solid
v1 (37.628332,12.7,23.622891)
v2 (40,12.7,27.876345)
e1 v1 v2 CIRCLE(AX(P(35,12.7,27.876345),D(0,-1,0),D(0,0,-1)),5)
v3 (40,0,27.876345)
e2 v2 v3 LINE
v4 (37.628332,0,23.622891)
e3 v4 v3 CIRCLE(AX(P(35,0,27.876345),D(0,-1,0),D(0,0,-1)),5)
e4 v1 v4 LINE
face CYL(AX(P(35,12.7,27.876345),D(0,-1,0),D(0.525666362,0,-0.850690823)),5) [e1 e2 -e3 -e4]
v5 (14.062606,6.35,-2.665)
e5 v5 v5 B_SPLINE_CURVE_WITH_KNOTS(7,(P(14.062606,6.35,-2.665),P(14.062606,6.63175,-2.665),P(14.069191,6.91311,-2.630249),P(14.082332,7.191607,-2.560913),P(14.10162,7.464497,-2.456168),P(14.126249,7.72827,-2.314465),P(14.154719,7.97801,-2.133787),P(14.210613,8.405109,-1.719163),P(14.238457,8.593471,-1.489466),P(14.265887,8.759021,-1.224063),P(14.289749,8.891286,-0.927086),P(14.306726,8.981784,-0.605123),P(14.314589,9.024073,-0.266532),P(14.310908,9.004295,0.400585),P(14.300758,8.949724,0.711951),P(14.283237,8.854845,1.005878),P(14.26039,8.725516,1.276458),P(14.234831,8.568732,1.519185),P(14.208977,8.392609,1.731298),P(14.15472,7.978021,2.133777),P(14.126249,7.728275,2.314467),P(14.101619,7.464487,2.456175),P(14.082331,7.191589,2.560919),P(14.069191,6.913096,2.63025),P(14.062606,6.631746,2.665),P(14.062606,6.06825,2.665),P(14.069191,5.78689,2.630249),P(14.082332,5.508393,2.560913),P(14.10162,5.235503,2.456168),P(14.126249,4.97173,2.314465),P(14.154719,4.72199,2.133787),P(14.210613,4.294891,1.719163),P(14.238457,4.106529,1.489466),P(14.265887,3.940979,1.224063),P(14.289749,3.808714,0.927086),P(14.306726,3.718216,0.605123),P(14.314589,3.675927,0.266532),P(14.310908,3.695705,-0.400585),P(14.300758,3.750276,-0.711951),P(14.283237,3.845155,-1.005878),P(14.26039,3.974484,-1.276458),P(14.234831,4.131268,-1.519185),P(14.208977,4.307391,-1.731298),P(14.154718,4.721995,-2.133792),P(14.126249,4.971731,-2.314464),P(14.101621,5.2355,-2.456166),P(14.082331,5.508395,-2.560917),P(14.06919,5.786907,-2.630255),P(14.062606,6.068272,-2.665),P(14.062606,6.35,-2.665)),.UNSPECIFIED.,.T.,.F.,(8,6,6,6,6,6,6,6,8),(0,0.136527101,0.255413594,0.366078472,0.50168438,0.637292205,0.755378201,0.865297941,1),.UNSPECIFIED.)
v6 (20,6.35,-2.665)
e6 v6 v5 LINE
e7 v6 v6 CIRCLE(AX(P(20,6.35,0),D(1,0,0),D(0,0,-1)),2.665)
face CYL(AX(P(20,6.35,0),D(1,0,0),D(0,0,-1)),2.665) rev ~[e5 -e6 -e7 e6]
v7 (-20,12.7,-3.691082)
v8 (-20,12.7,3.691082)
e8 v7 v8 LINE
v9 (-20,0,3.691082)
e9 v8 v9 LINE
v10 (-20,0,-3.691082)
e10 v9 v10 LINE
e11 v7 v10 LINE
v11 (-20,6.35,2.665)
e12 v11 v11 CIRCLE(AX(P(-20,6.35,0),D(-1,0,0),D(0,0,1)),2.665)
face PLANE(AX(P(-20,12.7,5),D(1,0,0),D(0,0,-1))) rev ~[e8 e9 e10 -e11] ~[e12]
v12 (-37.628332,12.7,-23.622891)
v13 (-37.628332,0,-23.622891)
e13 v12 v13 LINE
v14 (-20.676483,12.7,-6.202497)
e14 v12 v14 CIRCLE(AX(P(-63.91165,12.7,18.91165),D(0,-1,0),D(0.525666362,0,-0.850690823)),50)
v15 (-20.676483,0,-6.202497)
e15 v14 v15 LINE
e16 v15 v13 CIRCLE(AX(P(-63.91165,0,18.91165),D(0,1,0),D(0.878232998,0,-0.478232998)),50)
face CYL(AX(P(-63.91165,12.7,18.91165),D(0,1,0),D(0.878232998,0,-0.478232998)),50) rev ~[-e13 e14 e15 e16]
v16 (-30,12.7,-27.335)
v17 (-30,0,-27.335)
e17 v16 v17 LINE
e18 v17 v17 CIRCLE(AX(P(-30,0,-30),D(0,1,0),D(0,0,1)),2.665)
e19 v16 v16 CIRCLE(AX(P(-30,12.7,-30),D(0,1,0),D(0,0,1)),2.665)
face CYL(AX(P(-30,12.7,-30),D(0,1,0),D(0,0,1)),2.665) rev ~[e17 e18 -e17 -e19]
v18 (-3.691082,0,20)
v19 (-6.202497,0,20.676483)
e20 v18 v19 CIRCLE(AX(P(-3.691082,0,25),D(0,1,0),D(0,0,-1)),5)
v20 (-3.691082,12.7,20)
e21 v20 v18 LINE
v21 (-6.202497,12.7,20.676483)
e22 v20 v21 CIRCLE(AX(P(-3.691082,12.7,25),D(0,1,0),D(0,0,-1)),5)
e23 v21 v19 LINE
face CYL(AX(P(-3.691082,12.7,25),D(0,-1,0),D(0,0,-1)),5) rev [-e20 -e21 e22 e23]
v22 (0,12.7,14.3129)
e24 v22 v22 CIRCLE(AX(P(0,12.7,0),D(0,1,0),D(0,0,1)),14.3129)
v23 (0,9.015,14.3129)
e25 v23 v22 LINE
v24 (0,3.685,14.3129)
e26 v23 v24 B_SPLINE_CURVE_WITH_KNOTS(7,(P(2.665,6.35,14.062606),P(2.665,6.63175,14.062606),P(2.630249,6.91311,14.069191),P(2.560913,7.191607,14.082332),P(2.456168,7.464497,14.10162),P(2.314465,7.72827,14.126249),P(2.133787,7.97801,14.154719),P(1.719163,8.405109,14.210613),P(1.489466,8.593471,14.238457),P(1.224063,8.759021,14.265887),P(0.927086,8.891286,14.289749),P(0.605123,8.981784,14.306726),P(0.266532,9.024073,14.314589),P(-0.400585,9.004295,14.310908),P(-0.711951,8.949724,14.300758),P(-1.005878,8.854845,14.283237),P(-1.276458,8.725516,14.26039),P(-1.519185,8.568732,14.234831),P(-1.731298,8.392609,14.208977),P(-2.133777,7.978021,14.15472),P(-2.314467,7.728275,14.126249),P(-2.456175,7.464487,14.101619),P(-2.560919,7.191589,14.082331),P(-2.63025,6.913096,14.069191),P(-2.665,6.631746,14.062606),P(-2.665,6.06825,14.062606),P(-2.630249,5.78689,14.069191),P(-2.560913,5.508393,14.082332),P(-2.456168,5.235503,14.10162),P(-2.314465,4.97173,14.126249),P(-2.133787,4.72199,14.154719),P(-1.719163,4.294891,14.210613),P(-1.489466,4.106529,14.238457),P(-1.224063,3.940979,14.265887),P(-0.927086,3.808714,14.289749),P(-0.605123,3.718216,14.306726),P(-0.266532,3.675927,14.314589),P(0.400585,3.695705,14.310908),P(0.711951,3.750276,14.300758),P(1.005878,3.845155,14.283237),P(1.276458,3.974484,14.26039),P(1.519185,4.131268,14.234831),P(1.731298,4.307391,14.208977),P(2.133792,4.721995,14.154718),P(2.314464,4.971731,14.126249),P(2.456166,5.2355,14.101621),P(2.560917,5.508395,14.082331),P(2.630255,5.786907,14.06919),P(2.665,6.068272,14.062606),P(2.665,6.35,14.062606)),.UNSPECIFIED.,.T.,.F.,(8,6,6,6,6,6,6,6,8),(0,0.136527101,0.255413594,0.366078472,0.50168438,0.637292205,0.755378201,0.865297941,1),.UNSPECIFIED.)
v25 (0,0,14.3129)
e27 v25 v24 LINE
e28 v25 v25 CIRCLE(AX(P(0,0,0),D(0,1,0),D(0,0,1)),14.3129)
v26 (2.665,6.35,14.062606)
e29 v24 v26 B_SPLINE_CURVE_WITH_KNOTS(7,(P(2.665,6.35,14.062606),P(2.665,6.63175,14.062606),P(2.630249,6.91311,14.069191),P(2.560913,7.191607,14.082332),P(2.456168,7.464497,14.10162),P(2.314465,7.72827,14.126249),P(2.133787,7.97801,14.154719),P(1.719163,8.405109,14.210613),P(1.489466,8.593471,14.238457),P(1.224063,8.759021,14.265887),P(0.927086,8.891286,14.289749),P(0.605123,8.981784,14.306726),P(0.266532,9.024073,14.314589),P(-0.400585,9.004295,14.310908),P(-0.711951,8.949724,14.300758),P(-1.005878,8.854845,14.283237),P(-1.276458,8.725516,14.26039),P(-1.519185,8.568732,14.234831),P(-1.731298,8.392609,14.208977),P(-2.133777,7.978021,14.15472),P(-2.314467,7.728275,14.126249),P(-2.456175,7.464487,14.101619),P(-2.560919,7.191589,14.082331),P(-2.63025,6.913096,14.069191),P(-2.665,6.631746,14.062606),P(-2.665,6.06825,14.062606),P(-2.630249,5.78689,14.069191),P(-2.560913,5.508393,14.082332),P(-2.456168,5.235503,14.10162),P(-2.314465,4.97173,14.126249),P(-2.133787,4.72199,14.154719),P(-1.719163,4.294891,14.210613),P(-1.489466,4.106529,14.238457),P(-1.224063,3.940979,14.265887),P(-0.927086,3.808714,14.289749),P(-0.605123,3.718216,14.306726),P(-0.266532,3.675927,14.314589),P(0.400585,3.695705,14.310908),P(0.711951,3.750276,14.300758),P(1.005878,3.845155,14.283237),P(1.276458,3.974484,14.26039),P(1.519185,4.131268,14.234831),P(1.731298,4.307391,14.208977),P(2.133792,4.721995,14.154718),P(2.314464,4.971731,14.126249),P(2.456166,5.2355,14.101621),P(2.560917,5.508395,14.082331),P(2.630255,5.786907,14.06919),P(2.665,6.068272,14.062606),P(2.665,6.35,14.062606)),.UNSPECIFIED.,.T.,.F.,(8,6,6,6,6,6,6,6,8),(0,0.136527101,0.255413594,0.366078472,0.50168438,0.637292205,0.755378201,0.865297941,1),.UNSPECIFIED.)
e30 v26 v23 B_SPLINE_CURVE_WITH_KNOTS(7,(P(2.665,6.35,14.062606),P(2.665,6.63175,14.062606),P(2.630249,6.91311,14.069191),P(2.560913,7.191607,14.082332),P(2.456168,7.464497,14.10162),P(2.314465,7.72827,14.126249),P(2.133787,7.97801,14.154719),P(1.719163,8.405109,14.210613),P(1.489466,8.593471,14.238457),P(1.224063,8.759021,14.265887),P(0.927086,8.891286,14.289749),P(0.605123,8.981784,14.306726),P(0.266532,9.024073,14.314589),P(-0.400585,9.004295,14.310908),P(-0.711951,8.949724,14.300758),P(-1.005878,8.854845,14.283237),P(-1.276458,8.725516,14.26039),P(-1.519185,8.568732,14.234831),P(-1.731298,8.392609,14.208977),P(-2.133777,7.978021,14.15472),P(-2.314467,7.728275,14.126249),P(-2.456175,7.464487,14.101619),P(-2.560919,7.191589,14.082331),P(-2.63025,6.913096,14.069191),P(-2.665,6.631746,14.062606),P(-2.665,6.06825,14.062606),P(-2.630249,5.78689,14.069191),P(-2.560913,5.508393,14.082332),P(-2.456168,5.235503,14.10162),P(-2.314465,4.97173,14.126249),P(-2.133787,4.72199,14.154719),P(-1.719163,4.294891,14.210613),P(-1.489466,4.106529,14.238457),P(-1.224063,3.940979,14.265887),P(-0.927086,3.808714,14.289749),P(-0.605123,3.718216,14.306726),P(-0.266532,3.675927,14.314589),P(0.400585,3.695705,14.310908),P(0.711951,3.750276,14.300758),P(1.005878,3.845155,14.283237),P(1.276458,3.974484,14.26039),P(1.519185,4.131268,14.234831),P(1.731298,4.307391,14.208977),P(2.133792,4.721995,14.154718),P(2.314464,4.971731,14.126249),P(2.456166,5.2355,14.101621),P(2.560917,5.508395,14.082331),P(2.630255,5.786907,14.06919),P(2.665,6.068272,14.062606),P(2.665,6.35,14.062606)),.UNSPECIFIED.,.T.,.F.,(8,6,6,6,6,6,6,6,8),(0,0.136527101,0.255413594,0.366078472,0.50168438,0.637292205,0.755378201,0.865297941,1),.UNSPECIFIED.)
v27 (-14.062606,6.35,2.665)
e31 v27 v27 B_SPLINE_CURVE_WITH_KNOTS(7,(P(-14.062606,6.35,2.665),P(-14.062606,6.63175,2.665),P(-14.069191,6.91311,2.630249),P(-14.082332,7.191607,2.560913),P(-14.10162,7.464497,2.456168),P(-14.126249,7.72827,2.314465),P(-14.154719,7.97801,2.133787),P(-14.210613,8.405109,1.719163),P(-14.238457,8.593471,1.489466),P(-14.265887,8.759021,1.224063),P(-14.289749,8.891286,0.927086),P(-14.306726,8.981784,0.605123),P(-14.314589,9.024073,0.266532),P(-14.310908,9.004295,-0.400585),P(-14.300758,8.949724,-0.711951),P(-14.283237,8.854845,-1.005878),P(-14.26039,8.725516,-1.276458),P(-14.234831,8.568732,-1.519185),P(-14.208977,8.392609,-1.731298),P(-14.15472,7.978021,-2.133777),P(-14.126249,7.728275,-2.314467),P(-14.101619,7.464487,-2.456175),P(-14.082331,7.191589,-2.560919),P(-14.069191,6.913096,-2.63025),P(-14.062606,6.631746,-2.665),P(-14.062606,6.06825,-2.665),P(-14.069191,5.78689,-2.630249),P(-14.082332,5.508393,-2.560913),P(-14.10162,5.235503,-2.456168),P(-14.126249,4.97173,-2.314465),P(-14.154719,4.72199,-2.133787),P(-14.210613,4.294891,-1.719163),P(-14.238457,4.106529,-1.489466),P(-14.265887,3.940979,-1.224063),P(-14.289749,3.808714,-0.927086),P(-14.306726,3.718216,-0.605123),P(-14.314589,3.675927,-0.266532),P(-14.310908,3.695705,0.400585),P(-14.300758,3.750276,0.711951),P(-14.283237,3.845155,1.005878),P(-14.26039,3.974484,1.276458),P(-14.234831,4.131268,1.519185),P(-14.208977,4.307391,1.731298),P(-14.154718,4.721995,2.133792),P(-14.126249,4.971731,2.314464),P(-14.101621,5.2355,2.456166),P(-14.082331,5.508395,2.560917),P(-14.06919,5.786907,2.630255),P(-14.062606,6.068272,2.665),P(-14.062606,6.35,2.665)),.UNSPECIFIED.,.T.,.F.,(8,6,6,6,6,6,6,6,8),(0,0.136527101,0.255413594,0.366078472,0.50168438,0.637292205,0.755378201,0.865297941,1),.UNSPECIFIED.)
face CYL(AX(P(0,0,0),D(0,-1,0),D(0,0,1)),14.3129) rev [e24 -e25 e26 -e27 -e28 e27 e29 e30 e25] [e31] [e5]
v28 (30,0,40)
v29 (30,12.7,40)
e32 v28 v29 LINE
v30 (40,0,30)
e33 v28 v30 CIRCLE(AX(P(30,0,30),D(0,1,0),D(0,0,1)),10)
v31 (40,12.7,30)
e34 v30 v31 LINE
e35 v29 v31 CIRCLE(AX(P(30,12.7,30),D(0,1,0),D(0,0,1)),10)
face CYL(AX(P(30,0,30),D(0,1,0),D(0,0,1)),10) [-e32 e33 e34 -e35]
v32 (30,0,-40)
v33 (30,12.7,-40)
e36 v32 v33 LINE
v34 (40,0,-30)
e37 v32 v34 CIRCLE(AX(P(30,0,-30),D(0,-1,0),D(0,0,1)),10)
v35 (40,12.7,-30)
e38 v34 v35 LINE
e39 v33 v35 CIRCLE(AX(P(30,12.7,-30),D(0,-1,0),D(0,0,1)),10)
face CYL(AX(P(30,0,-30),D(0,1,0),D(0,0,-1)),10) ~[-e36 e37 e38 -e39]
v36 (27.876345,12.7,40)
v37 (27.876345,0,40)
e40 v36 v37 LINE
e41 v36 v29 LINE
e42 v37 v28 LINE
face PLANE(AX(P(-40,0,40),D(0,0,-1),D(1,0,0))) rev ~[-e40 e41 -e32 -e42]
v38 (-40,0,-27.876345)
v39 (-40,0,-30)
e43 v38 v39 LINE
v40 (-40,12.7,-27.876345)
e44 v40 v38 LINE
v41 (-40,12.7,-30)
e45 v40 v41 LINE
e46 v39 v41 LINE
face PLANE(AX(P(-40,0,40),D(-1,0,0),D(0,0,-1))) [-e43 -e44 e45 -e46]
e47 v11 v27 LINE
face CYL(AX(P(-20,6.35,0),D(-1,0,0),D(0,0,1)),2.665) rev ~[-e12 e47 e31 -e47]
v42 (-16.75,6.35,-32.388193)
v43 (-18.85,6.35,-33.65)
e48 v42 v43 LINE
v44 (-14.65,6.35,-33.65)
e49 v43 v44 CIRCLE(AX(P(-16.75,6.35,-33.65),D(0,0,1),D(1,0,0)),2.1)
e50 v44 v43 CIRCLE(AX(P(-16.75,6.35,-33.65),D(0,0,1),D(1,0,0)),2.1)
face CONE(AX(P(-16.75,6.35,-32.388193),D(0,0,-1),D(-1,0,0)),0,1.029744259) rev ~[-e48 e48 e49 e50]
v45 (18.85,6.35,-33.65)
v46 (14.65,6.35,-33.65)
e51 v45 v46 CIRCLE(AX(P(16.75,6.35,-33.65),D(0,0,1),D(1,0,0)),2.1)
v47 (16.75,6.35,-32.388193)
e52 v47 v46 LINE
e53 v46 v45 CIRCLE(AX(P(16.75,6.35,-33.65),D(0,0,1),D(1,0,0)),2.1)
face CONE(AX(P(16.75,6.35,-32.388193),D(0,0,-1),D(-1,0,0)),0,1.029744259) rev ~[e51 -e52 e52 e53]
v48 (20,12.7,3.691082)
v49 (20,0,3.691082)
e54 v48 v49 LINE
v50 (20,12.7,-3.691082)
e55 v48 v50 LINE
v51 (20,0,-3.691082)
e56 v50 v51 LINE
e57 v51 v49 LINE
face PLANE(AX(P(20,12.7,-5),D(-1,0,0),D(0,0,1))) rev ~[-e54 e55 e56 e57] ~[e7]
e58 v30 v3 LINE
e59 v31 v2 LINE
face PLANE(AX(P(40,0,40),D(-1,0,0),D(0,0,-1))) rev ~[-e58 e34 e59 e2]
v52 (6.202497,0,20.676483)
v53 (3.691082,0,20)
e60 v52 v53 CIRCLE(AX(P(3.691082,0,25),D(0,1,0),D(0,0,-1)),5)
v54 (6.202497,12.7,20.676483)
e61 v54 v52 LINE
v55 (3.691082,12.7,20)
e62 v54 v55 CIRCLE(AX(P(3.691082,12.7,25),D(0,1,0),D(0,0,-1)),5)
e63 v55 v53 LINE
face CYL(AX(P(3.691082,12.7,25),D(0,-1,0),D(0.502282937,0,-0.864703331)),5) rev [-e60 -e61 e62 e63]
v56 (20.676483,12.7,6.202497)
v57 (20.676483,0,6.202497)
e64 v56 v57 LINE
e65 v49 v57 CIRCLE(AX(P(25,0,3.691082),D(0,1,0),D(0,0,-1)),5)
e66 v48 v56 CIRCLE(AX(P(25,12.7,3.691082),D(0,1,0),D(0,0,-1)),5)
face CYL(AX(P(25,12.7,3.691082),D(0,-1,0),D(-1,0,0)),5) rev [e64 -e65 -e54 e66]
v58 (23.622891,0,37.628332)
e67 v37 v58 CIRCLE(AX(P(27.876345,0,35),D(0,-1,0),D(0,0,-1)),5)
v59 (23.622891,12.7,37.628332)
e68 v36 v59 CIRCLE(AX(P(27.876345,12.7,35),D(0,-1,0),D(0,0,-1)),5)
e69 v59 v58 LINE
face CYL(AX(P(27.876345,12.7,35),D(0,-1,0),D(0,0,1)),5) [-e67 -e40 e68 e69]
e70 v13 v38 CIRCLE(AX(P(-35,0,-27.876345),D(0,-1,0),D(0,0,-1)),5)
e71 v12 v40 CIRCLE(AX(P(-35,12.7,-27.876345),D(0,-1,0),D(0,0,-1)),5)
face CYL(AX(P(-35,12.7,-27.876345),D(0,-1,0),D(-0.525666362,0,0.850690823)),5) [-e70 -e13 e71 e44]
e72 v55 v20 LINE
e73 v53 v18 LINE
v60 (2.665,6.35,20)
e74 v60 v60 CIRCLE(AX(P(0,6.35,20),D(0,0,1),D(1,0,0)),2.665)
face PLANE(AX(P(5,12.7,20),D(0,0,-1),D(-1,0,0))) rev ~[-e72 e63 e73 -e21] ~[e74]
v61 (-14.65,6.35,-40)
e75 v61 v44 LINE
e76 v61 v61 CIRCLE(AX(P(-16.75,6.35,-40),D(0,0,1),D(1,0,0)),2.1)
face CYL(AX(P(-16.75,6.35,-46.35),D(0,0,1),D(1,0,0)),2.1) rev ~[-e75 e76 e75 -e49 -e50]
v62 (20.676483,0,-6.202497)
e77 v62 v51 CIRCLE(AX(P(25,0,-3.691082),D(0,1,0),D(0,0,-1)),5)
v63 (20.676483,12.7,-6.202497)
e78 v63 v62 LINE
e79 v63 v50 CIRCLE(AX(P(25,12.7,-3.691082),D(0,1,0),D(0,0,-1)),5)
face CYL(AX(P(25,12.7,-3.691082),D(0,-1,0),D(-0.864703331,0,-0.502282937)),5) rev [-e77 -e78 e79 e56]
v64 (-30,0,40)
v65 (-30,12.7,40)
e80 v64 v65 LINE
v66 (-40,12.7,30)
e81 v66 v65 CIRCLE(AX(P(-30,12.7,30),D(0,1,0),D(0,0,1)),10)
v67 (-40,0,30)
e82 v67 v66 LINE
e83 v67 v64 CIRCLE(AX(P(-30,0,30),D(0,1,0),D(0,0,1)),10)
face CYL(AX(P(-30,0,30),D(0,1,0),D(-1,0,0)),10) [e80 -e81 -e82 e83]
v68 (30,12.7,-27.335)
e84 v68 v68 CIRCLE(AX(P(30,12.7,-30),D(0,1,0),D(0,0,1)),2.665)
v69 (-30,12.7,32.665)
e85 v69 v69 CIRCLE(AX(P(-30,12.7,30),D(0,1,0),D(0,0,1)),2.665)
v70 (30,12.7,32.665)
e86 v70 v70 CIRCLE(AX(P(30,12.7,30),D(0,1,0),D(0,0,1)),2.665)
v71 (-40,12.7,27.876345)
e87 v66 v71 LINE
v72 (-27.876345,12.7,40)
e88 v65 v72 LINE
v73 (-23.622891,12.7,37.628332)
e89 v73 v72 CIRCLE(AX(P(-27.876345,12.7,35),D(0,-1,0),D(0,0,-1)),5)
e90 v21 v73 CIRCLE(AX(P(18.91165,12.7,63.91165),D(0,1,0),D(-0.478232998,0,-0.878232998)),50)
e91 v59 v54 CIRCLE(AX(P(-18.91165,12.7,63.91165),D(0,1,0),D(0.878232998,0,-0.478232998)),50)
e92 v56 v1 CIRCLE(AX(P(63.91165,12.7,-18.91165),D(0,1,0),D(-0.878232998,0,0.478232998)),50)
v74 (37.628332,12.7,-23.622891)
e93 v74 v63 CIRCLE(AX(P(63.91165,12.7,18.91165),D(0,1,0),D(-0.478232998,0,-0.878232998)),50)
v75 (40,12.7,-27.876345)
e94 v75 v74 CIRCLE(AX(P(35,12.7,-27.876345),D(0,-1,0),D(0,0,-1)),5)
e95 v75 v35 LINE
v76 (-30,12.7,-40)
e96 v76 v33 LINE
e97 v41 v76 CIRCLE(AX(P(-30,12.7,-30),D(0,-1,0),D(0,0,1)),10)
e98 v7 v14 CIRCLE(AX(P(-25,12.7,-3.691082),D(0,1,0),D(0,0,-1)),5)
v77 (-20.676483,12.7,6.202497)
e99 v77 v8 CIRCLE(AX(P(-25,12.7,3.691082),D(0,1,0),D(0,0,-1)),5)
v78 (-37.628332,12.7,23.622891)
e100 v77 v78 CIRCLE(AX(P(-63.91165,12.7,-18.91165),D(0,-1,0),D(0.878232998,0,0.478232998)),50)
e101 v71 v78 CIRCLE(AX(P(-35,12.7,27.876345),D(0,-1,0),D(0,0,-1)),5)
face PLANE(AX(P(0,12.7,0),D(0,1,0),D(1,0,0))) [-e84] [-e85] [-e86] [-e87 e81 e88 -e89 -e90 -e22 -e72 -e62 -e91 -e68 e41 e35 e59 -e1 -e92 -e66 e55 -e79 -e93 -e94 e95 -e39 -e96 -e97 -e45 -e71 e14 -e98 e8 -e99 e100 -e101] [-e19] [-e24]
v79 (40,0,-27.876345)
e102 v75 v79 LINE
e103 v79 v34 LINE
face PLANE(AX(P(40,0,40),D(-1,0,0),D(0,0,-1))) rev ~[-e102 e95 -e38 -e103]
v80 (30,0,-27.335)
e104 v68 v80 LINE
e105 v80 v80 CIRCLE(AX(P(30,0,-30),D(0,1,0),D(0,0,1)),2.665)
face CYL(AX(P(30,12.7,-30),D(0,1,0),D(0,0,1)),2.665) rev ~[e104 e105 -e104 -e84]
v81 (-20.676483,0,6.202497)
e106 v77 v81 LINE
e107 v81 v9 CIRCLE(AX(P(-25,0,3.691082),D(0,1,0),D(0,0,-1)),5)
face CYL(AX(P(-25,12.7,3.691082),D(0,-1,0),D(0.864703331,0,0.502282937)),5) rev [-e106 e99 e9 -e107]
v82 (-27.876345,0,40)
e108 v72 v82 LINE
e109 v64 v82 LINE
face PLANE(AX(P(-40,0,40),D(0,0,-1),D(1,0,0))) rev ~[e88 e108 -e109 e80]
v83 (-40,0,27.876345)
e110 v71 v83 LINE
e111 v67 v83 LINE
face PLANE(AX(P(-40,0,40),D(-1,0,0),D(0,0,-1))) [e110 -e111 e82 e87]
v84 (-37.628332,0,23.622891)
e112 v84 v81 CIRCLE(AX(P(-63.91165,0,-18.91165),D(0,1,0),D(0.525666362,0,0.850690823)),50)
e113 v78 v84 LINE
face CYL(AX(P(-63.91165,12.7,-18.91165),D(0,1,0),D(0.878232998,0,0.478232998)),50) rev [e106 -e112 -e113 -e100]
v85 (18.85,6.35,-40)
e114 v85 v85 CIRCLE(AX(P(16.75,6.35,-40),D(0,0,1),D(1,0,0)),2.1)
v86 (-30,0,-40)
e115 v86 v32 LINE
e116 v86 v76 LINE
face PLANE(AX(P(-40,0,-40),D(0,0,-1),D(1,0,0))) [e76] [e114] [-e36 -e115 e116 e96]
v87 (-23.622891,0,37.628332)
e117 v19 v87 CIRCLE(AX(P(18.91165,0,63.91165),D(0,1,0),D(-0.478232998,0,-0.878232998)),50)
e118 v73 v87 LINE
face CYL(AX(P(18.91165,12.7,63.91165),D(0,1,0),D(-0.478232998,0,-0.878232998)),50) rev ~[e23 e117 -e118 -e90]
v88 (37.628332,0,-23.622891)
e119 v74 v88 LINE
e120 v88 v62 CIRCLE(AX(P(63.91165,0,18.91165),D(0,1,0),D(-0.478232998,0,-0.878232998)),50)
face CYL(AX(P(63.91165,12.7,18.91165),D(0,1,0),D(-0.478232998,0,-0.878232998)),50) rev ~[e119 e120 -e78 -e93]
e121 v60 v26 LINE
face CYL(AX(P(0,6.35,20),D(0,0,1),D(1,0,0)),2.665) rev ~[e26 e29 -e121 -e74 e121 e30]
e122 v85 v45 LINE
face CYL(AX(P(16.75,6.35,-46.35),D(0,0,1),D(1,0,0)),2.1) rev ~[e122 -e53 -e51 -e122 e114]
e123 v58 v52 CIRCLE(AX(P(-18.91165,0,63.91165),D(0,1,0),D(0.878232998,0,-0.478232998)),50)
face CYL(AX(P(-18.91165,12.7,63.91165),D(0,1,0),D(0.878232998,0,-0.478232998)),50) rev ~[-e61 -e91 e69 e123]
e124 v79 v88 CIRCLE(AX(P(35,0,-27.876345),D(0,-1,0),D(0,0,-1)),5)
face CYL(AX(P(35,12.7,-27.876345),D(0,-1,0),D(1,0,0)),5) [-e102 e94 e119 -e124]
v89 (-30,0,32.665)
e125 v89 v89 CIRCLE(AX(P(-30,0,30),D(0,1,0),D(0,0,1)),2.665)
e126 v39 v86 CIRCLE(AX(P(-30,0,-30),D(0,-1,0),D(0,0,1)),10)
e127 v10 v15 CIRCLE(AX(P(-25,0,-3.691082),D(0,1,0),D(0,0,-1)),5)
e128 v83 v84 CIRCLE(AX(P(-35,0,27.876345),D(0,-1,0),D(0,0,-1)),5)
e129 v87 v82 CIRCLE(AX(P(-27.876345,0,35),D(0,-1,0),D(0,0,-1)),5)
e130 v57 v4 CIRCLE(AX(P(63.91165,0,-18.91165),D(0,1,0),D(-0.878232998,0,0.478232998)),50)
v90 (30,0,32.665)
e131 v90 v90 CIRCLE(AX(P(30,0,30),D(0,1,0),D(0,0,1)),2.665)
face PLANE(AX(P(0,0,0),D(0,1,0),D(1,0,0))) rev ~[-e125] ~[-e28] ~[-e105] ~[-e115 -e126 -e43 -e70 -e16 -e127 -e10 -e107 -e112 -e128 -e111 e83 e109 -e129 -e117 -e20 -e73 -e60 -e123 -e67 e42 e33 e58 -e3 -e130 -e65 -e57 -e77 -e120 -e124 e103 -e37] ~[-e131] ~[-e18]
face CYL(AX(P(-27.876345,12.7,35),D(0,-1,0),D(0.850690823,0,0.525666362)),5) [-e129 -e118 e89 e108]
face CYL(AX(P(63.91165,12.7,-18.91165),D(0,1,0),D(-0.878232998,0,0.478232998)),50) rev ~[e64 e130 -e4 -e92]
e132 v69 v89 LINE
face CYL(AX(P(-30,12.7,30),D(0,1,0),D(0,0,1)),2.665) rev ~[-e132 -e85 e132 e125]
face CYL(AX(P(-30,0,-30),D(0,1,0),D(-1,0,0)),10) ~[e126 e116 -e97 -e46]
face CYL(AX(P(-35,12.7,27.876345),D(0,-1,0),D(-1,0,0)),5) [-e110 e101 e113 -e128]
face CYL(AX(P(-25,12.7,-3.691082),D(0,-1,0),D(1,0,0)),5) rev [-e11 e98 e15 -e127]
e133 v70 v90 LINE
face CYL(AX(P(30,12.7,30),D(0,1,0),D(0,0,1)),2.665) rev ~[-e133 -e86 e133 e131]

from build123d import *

# Parameters (mm, degrees)
SKETCH1_W                 = 80
SKETCH1_H                 = 80
SKETCH1_R                 = 14.3129
BOSS_EXTRUDE1_DEPTH       = 12.7
FILLET1_R                 = 10
CUT_EXTRUDE1_REACH        = 59.977
CUT_EXTRUDE2_REACH        = 75.221
CUT_EXTRUDE2_END_RADIUS   = 14.3129
SKETCH3_R                 = 2.665
FILLET2_R                 = 5
CUT_EXTRUDE3_REACH        = 59.977
SKETCH4_R                 = 2.665
CIRPATTERN1_COUNT         = 3
CIRPATTERN1_ANGLE         = 180
FILLET3_R                 = 5
CIRPATTERN2_COUNT         = 3
CIRPATTERN2_ANGLE         = 180
M5X0_8_TAPPED_HOLE1_D     = 4.2
M5X0_8_TAPPED_HOLE1_DEPTH = 6.35
M5X0_8_TAPPED_HOLE1_TIP   = 1.2618073


with BuildPart() as part:
    # Sketch1 → Boss-Extrude1 (new body)
    with BuildSketch(Plane(origin=(0, 0, 0), x_dir=(1, 0, 0), z_dir=(0, 1, 0))):
        Rectangle(SKETCH1_W, SKETCH1_H)
        with Locations(Location((0, 0, 0), (0, 0, 270))):
            Circle(SKETCH1_R, mode=Mode.SUBTRACT)
    extrude(amount=BOSS_EXTRUDE1_DEPTH)

    # Fillet1
    fillet1_edges = [part.edges().sort_by_distance(p)[0] for p in [
        (40, 6.35, 40),
        (-40, 6.35, 40),
        (-40, 6.35, -40),
        (40, 6.35, -40),
    ]]
    fillet(fillet1_edges, radius=FILLET1_R)

    # Sketch2 → Cut-Extrude1 (cut, up to next)
    with BuildSketch(Plane(origin=(0, 12.7, 0), x_dir=(1, 0, 0), z_dir=(0, 1, 0)), mode=Mode.PRIVATE) as cut_extrude1_sk1:
        with BuildLine():
            ThreePointArc((40, 25), (28.556310856, 16.443689144), (20, 5))
            Line((20, 5), (20, 0))
            Line((20, 0), (40, 0))
            Line((40, 0), (40, 25))
        make_face()
    cut_extrude1_tool1 = extrude(cut_extrude1_sk1.sketch, amount=-CUT_EXTRUDE1_REACH, mode=Mode.PRIVATE) & part.part
    # Sketch2 → Cut-Extrude1 (cut, up to next)
    with BuildSketch(Plane(origin=(0, 12.7, 0), x_dir=(1, 0, 0), z_dir=(0, 1, 0)), mode=Mode.PRIVATE) as cut_extrude1_sk2:
        with BuildLine():
            Line((40, 0), (20, 0))
            Line((20, 0), (20, -5))
            ThreePointArc((20, -5), (28.556310856, -16.443689144), (40, -25))
            Line((40, -25), (40, 0))
        make_face()
    cut_extrude1_tool2 = extrude(cut_extrude1_sk2.sketch, amount=-CUT_EXTRUDE1_REACH, mode=Mode.PRIVATE) & part.part
    cut_extrude1_1 = cut_extrude1_tool1.solids().sort_by_distance((31.902516, 12.7, -9.406449))[0]
    add(cut_extrude1_1, mode=Mode.SUBTRACT)
    cut_extrude1_2 = cut_extrude1_tool2.solids().sort_by_distance((31.902516, 12.7, 9.406449))[0]
    add(cut_extrude1_2, mode=Mode.SUBTRACT)
    cut_extrude1 = cut_extrude1_1 + cut_extrude1_2  # Cut-Extrude1 as one shape, for the pattern or mirror that repeats it

    # Mirror1: Cut-Extrude1 across plane
    add(cut_extrude1.mirror(Plane(origin=(0, 0, 0), x_dir=(0, 0, 1), z_dir=(1, 0, 0))), mode=Mode.SUBTRACT)

    # Cut-Extrude2: up to this cylinder (the profile starts outside it)
    cut_extrude2_end = Plane(origin=(0, 6.35, 0), z_dir=(0, -1, 0)) * Cylinder(CUT_EXTRUDE2_END_RADIUS, 180.0678, mode=Mode.PRIVATE)
    # Sketch3 → Cut-Extrude2 (cut, up to the surface)
    with BuildSketch(Plane(origin=(20, 0, 0), x_dir=(0, 0, -1), z_dir=(1, 0, 0)), mode=Mode.PRIVATE) as cut_extrude2_sk1:
        with Locations((0, 6.35)):
            Circle(SKETCH3_R)
    cut_extrude2_tool1 = extrude(cut_extrude2_sk1.sketch, amount=-CUT_EXTRUDE2_REACH, mode=Mode.PRIVATE) - cut_extrude2_end
    cut_extrude2 = cut_extrude2_tool1.solids().sort_by_distance((20, 6.35, 0))[0]
    add(cut_extrude2, mode=Mode.SUBTRACT)

    # Fillet2
    fillet2_edges = [part.edges().sort_by_distance(p)[0] for p in [
        (20, 6.35, 5),
        (20, 6.35, -5),
        (40, 6.35, -25),
        (40, 6.35, 25),
        (-20, 6.35, -5),
        (-20, 6.35, 5),
        (-40, 6.35, 25),
        (-40, 6.35, -25),
    ]]
    fillet(fillet2_edges, radius=FILLET2_R)

    # Sketch4 → Cut-Extrude3 (cut, up to next)
    with BuildSketch(Plane(origin=(0, 12.7, 0), x_dir=(1, 0, 0), z_dir=(0, 1, 0)), mode=Mode.PRIVATE) as cut_extrude3_sk1:
        with Locations(Location((-30, 30, 0), (0, 0, 270))):
            Circle(SKETCH4_R)
    cut_extrude3_tool1 = extrude(cut_extrude3_sk1.sketch, amount=-CUT_EXTRUDE3_REACH, mode=Mode.PRIVATE) & part.part
    # Sketch4 → Cut-Extrude3 (cut, up to next)
    with BuildSketch(Plane(origin=(0, 12.7, 0), x_dir=(1, 0, 0), z_dir=(0, 1, 0)), mode=Mode.PRIVATE) as cut_extrude3_sk2:
        with Locations(Location((30, 30, 0), (0, 0, 270))):
            Circle(SKETCH4_R)
    cut_extrude3_tool2 = extrude(cut_extrude3_sk2.sketch, amount=-CUT_EXTRUDE3_REACH, mode=Mode.PRIVATE) & part.part
    # Sketch4 → Cut-Extrude3 (cut, up to next)
    with BuildSketch(Plane(origin=(0, 12.7, 0), x_dir=(1, 0, 0), z_dir=(0, 1, 0)), mode=Mode.PRIVATE) as cut_extrude3_sk3:
        with Locations(Location((30, -30, 0), (0, 0, 270))):
            Circle(SKETCH4_R)
    cut_extrude3_tool3 = extrude(cut_extrude3_sk3.sketch, amount=-CUT_EXTRUDE3_REACH, mode=Mode.PRIVATE) & part.part
    # Sketch4 → Cut-Extrude3 (cut, up to next)
    with BuildSketch(Plane(origin=(0, 12.7, 0), x_dir=(1, 0, 0), z_dir=(0, 1, 0)), mode=Mode.PRIVATE) as cut_extrude3_sk4:
        with Locations(Location((-30, -30, 0), (0, 0, 270))):
            Circle(SKETCH4_R)
    cut_extrude3_tool4 = extrude(cut_extrude3_sk4.sketch, amount=-CUT_EXTRUDE3_REACH, mode=Mode.PRIVATE) & part.part
    add(cut_extrude3_tool1.solids().sort_by_distance((-30, 12.7, -30))[0], mode=Mode.SUBTRACT)
    add(cut_extrude3_tool2.solids().sort_by_distance((30, 12.7, -30))[0], mode=Mode.SUBTRACT)
    add(cut_extrude3_tool3.solids().sort_by_distance((30, 12.7, 30))[0], mode=Mode.SUBTRACT)
    add(cut_extrude3_tool4.solids().sort_by_distance((-30, 12.7, 30))[0], mode=Mode.SUBTRACT)

    # CirPattern1: Cut-Extrude1 ×3 about axis
    cirpattern1_axis = Axis((0, 0, 0), (0, -1, 0))
    for i in range(1, CIRPATTERN1_COUNT):
        add(cut_extrude1.rotate(cirpattern1_axis, i * CIRPATTERN1_ANGLE / (CIRPATTERN1_COUNT - 1)), mode=Mode.SUBTRACT)

    # Fillet3
    fillet3_edges = [part.edges().sort_by_distance(p)[0] for p in [
        (-5, 6.35, 20),
        (5, 6.35, 20),
        (25, 6.35, 40),
        (-25, 6.35, 40),
        (-20, 6.35, 5),
        (-20, 6.35, -5),
    ]]
    fillet(fillet3_edges, radius=FILLET3_R)

    # CirPattern2: Cut-Extrude2 ×3 about axis
    cirpattern2_axis = Axis((0, 12.7, 0), (0, -1, 0))
    for i in range(1, CIRPATTERN2_COUNT):
        add(cut_extrude2.rotate(cirpattern2_axis, i * CIRPATTERN2_ANGLE / (CIRPATTERN2_COUNT - 1)), mode=Mode.SUBTRACT)

    # M5x0.8 Tapped Hole1
    with Locations(Plane(origin=(16.75, 6.35, -40), x_dir=(-1, 0, 0), z_dir=(0, 0, -1))):
        with Locations((0, 0), (33.5, 0)):
            Hole(M5X0_8_TAPPED_HOLE1_D / 2, depth=M5X0_8_TAPPED_HOLE1_DEPTH)
            with Locations((0, 0, -(M5X0_8_TAPPED_HOLE1_DEPTH + M5X0_8_TAPPED_HOLE1_TIP / 2))):  # 118° drill point
                Cone(0, M5X0_8_TAPPED_HOLE1_D / 2, M5X0_8_TAPPED_HOLE1_TIP, mode=Mode.SUBTRACT)


solid = part.part
